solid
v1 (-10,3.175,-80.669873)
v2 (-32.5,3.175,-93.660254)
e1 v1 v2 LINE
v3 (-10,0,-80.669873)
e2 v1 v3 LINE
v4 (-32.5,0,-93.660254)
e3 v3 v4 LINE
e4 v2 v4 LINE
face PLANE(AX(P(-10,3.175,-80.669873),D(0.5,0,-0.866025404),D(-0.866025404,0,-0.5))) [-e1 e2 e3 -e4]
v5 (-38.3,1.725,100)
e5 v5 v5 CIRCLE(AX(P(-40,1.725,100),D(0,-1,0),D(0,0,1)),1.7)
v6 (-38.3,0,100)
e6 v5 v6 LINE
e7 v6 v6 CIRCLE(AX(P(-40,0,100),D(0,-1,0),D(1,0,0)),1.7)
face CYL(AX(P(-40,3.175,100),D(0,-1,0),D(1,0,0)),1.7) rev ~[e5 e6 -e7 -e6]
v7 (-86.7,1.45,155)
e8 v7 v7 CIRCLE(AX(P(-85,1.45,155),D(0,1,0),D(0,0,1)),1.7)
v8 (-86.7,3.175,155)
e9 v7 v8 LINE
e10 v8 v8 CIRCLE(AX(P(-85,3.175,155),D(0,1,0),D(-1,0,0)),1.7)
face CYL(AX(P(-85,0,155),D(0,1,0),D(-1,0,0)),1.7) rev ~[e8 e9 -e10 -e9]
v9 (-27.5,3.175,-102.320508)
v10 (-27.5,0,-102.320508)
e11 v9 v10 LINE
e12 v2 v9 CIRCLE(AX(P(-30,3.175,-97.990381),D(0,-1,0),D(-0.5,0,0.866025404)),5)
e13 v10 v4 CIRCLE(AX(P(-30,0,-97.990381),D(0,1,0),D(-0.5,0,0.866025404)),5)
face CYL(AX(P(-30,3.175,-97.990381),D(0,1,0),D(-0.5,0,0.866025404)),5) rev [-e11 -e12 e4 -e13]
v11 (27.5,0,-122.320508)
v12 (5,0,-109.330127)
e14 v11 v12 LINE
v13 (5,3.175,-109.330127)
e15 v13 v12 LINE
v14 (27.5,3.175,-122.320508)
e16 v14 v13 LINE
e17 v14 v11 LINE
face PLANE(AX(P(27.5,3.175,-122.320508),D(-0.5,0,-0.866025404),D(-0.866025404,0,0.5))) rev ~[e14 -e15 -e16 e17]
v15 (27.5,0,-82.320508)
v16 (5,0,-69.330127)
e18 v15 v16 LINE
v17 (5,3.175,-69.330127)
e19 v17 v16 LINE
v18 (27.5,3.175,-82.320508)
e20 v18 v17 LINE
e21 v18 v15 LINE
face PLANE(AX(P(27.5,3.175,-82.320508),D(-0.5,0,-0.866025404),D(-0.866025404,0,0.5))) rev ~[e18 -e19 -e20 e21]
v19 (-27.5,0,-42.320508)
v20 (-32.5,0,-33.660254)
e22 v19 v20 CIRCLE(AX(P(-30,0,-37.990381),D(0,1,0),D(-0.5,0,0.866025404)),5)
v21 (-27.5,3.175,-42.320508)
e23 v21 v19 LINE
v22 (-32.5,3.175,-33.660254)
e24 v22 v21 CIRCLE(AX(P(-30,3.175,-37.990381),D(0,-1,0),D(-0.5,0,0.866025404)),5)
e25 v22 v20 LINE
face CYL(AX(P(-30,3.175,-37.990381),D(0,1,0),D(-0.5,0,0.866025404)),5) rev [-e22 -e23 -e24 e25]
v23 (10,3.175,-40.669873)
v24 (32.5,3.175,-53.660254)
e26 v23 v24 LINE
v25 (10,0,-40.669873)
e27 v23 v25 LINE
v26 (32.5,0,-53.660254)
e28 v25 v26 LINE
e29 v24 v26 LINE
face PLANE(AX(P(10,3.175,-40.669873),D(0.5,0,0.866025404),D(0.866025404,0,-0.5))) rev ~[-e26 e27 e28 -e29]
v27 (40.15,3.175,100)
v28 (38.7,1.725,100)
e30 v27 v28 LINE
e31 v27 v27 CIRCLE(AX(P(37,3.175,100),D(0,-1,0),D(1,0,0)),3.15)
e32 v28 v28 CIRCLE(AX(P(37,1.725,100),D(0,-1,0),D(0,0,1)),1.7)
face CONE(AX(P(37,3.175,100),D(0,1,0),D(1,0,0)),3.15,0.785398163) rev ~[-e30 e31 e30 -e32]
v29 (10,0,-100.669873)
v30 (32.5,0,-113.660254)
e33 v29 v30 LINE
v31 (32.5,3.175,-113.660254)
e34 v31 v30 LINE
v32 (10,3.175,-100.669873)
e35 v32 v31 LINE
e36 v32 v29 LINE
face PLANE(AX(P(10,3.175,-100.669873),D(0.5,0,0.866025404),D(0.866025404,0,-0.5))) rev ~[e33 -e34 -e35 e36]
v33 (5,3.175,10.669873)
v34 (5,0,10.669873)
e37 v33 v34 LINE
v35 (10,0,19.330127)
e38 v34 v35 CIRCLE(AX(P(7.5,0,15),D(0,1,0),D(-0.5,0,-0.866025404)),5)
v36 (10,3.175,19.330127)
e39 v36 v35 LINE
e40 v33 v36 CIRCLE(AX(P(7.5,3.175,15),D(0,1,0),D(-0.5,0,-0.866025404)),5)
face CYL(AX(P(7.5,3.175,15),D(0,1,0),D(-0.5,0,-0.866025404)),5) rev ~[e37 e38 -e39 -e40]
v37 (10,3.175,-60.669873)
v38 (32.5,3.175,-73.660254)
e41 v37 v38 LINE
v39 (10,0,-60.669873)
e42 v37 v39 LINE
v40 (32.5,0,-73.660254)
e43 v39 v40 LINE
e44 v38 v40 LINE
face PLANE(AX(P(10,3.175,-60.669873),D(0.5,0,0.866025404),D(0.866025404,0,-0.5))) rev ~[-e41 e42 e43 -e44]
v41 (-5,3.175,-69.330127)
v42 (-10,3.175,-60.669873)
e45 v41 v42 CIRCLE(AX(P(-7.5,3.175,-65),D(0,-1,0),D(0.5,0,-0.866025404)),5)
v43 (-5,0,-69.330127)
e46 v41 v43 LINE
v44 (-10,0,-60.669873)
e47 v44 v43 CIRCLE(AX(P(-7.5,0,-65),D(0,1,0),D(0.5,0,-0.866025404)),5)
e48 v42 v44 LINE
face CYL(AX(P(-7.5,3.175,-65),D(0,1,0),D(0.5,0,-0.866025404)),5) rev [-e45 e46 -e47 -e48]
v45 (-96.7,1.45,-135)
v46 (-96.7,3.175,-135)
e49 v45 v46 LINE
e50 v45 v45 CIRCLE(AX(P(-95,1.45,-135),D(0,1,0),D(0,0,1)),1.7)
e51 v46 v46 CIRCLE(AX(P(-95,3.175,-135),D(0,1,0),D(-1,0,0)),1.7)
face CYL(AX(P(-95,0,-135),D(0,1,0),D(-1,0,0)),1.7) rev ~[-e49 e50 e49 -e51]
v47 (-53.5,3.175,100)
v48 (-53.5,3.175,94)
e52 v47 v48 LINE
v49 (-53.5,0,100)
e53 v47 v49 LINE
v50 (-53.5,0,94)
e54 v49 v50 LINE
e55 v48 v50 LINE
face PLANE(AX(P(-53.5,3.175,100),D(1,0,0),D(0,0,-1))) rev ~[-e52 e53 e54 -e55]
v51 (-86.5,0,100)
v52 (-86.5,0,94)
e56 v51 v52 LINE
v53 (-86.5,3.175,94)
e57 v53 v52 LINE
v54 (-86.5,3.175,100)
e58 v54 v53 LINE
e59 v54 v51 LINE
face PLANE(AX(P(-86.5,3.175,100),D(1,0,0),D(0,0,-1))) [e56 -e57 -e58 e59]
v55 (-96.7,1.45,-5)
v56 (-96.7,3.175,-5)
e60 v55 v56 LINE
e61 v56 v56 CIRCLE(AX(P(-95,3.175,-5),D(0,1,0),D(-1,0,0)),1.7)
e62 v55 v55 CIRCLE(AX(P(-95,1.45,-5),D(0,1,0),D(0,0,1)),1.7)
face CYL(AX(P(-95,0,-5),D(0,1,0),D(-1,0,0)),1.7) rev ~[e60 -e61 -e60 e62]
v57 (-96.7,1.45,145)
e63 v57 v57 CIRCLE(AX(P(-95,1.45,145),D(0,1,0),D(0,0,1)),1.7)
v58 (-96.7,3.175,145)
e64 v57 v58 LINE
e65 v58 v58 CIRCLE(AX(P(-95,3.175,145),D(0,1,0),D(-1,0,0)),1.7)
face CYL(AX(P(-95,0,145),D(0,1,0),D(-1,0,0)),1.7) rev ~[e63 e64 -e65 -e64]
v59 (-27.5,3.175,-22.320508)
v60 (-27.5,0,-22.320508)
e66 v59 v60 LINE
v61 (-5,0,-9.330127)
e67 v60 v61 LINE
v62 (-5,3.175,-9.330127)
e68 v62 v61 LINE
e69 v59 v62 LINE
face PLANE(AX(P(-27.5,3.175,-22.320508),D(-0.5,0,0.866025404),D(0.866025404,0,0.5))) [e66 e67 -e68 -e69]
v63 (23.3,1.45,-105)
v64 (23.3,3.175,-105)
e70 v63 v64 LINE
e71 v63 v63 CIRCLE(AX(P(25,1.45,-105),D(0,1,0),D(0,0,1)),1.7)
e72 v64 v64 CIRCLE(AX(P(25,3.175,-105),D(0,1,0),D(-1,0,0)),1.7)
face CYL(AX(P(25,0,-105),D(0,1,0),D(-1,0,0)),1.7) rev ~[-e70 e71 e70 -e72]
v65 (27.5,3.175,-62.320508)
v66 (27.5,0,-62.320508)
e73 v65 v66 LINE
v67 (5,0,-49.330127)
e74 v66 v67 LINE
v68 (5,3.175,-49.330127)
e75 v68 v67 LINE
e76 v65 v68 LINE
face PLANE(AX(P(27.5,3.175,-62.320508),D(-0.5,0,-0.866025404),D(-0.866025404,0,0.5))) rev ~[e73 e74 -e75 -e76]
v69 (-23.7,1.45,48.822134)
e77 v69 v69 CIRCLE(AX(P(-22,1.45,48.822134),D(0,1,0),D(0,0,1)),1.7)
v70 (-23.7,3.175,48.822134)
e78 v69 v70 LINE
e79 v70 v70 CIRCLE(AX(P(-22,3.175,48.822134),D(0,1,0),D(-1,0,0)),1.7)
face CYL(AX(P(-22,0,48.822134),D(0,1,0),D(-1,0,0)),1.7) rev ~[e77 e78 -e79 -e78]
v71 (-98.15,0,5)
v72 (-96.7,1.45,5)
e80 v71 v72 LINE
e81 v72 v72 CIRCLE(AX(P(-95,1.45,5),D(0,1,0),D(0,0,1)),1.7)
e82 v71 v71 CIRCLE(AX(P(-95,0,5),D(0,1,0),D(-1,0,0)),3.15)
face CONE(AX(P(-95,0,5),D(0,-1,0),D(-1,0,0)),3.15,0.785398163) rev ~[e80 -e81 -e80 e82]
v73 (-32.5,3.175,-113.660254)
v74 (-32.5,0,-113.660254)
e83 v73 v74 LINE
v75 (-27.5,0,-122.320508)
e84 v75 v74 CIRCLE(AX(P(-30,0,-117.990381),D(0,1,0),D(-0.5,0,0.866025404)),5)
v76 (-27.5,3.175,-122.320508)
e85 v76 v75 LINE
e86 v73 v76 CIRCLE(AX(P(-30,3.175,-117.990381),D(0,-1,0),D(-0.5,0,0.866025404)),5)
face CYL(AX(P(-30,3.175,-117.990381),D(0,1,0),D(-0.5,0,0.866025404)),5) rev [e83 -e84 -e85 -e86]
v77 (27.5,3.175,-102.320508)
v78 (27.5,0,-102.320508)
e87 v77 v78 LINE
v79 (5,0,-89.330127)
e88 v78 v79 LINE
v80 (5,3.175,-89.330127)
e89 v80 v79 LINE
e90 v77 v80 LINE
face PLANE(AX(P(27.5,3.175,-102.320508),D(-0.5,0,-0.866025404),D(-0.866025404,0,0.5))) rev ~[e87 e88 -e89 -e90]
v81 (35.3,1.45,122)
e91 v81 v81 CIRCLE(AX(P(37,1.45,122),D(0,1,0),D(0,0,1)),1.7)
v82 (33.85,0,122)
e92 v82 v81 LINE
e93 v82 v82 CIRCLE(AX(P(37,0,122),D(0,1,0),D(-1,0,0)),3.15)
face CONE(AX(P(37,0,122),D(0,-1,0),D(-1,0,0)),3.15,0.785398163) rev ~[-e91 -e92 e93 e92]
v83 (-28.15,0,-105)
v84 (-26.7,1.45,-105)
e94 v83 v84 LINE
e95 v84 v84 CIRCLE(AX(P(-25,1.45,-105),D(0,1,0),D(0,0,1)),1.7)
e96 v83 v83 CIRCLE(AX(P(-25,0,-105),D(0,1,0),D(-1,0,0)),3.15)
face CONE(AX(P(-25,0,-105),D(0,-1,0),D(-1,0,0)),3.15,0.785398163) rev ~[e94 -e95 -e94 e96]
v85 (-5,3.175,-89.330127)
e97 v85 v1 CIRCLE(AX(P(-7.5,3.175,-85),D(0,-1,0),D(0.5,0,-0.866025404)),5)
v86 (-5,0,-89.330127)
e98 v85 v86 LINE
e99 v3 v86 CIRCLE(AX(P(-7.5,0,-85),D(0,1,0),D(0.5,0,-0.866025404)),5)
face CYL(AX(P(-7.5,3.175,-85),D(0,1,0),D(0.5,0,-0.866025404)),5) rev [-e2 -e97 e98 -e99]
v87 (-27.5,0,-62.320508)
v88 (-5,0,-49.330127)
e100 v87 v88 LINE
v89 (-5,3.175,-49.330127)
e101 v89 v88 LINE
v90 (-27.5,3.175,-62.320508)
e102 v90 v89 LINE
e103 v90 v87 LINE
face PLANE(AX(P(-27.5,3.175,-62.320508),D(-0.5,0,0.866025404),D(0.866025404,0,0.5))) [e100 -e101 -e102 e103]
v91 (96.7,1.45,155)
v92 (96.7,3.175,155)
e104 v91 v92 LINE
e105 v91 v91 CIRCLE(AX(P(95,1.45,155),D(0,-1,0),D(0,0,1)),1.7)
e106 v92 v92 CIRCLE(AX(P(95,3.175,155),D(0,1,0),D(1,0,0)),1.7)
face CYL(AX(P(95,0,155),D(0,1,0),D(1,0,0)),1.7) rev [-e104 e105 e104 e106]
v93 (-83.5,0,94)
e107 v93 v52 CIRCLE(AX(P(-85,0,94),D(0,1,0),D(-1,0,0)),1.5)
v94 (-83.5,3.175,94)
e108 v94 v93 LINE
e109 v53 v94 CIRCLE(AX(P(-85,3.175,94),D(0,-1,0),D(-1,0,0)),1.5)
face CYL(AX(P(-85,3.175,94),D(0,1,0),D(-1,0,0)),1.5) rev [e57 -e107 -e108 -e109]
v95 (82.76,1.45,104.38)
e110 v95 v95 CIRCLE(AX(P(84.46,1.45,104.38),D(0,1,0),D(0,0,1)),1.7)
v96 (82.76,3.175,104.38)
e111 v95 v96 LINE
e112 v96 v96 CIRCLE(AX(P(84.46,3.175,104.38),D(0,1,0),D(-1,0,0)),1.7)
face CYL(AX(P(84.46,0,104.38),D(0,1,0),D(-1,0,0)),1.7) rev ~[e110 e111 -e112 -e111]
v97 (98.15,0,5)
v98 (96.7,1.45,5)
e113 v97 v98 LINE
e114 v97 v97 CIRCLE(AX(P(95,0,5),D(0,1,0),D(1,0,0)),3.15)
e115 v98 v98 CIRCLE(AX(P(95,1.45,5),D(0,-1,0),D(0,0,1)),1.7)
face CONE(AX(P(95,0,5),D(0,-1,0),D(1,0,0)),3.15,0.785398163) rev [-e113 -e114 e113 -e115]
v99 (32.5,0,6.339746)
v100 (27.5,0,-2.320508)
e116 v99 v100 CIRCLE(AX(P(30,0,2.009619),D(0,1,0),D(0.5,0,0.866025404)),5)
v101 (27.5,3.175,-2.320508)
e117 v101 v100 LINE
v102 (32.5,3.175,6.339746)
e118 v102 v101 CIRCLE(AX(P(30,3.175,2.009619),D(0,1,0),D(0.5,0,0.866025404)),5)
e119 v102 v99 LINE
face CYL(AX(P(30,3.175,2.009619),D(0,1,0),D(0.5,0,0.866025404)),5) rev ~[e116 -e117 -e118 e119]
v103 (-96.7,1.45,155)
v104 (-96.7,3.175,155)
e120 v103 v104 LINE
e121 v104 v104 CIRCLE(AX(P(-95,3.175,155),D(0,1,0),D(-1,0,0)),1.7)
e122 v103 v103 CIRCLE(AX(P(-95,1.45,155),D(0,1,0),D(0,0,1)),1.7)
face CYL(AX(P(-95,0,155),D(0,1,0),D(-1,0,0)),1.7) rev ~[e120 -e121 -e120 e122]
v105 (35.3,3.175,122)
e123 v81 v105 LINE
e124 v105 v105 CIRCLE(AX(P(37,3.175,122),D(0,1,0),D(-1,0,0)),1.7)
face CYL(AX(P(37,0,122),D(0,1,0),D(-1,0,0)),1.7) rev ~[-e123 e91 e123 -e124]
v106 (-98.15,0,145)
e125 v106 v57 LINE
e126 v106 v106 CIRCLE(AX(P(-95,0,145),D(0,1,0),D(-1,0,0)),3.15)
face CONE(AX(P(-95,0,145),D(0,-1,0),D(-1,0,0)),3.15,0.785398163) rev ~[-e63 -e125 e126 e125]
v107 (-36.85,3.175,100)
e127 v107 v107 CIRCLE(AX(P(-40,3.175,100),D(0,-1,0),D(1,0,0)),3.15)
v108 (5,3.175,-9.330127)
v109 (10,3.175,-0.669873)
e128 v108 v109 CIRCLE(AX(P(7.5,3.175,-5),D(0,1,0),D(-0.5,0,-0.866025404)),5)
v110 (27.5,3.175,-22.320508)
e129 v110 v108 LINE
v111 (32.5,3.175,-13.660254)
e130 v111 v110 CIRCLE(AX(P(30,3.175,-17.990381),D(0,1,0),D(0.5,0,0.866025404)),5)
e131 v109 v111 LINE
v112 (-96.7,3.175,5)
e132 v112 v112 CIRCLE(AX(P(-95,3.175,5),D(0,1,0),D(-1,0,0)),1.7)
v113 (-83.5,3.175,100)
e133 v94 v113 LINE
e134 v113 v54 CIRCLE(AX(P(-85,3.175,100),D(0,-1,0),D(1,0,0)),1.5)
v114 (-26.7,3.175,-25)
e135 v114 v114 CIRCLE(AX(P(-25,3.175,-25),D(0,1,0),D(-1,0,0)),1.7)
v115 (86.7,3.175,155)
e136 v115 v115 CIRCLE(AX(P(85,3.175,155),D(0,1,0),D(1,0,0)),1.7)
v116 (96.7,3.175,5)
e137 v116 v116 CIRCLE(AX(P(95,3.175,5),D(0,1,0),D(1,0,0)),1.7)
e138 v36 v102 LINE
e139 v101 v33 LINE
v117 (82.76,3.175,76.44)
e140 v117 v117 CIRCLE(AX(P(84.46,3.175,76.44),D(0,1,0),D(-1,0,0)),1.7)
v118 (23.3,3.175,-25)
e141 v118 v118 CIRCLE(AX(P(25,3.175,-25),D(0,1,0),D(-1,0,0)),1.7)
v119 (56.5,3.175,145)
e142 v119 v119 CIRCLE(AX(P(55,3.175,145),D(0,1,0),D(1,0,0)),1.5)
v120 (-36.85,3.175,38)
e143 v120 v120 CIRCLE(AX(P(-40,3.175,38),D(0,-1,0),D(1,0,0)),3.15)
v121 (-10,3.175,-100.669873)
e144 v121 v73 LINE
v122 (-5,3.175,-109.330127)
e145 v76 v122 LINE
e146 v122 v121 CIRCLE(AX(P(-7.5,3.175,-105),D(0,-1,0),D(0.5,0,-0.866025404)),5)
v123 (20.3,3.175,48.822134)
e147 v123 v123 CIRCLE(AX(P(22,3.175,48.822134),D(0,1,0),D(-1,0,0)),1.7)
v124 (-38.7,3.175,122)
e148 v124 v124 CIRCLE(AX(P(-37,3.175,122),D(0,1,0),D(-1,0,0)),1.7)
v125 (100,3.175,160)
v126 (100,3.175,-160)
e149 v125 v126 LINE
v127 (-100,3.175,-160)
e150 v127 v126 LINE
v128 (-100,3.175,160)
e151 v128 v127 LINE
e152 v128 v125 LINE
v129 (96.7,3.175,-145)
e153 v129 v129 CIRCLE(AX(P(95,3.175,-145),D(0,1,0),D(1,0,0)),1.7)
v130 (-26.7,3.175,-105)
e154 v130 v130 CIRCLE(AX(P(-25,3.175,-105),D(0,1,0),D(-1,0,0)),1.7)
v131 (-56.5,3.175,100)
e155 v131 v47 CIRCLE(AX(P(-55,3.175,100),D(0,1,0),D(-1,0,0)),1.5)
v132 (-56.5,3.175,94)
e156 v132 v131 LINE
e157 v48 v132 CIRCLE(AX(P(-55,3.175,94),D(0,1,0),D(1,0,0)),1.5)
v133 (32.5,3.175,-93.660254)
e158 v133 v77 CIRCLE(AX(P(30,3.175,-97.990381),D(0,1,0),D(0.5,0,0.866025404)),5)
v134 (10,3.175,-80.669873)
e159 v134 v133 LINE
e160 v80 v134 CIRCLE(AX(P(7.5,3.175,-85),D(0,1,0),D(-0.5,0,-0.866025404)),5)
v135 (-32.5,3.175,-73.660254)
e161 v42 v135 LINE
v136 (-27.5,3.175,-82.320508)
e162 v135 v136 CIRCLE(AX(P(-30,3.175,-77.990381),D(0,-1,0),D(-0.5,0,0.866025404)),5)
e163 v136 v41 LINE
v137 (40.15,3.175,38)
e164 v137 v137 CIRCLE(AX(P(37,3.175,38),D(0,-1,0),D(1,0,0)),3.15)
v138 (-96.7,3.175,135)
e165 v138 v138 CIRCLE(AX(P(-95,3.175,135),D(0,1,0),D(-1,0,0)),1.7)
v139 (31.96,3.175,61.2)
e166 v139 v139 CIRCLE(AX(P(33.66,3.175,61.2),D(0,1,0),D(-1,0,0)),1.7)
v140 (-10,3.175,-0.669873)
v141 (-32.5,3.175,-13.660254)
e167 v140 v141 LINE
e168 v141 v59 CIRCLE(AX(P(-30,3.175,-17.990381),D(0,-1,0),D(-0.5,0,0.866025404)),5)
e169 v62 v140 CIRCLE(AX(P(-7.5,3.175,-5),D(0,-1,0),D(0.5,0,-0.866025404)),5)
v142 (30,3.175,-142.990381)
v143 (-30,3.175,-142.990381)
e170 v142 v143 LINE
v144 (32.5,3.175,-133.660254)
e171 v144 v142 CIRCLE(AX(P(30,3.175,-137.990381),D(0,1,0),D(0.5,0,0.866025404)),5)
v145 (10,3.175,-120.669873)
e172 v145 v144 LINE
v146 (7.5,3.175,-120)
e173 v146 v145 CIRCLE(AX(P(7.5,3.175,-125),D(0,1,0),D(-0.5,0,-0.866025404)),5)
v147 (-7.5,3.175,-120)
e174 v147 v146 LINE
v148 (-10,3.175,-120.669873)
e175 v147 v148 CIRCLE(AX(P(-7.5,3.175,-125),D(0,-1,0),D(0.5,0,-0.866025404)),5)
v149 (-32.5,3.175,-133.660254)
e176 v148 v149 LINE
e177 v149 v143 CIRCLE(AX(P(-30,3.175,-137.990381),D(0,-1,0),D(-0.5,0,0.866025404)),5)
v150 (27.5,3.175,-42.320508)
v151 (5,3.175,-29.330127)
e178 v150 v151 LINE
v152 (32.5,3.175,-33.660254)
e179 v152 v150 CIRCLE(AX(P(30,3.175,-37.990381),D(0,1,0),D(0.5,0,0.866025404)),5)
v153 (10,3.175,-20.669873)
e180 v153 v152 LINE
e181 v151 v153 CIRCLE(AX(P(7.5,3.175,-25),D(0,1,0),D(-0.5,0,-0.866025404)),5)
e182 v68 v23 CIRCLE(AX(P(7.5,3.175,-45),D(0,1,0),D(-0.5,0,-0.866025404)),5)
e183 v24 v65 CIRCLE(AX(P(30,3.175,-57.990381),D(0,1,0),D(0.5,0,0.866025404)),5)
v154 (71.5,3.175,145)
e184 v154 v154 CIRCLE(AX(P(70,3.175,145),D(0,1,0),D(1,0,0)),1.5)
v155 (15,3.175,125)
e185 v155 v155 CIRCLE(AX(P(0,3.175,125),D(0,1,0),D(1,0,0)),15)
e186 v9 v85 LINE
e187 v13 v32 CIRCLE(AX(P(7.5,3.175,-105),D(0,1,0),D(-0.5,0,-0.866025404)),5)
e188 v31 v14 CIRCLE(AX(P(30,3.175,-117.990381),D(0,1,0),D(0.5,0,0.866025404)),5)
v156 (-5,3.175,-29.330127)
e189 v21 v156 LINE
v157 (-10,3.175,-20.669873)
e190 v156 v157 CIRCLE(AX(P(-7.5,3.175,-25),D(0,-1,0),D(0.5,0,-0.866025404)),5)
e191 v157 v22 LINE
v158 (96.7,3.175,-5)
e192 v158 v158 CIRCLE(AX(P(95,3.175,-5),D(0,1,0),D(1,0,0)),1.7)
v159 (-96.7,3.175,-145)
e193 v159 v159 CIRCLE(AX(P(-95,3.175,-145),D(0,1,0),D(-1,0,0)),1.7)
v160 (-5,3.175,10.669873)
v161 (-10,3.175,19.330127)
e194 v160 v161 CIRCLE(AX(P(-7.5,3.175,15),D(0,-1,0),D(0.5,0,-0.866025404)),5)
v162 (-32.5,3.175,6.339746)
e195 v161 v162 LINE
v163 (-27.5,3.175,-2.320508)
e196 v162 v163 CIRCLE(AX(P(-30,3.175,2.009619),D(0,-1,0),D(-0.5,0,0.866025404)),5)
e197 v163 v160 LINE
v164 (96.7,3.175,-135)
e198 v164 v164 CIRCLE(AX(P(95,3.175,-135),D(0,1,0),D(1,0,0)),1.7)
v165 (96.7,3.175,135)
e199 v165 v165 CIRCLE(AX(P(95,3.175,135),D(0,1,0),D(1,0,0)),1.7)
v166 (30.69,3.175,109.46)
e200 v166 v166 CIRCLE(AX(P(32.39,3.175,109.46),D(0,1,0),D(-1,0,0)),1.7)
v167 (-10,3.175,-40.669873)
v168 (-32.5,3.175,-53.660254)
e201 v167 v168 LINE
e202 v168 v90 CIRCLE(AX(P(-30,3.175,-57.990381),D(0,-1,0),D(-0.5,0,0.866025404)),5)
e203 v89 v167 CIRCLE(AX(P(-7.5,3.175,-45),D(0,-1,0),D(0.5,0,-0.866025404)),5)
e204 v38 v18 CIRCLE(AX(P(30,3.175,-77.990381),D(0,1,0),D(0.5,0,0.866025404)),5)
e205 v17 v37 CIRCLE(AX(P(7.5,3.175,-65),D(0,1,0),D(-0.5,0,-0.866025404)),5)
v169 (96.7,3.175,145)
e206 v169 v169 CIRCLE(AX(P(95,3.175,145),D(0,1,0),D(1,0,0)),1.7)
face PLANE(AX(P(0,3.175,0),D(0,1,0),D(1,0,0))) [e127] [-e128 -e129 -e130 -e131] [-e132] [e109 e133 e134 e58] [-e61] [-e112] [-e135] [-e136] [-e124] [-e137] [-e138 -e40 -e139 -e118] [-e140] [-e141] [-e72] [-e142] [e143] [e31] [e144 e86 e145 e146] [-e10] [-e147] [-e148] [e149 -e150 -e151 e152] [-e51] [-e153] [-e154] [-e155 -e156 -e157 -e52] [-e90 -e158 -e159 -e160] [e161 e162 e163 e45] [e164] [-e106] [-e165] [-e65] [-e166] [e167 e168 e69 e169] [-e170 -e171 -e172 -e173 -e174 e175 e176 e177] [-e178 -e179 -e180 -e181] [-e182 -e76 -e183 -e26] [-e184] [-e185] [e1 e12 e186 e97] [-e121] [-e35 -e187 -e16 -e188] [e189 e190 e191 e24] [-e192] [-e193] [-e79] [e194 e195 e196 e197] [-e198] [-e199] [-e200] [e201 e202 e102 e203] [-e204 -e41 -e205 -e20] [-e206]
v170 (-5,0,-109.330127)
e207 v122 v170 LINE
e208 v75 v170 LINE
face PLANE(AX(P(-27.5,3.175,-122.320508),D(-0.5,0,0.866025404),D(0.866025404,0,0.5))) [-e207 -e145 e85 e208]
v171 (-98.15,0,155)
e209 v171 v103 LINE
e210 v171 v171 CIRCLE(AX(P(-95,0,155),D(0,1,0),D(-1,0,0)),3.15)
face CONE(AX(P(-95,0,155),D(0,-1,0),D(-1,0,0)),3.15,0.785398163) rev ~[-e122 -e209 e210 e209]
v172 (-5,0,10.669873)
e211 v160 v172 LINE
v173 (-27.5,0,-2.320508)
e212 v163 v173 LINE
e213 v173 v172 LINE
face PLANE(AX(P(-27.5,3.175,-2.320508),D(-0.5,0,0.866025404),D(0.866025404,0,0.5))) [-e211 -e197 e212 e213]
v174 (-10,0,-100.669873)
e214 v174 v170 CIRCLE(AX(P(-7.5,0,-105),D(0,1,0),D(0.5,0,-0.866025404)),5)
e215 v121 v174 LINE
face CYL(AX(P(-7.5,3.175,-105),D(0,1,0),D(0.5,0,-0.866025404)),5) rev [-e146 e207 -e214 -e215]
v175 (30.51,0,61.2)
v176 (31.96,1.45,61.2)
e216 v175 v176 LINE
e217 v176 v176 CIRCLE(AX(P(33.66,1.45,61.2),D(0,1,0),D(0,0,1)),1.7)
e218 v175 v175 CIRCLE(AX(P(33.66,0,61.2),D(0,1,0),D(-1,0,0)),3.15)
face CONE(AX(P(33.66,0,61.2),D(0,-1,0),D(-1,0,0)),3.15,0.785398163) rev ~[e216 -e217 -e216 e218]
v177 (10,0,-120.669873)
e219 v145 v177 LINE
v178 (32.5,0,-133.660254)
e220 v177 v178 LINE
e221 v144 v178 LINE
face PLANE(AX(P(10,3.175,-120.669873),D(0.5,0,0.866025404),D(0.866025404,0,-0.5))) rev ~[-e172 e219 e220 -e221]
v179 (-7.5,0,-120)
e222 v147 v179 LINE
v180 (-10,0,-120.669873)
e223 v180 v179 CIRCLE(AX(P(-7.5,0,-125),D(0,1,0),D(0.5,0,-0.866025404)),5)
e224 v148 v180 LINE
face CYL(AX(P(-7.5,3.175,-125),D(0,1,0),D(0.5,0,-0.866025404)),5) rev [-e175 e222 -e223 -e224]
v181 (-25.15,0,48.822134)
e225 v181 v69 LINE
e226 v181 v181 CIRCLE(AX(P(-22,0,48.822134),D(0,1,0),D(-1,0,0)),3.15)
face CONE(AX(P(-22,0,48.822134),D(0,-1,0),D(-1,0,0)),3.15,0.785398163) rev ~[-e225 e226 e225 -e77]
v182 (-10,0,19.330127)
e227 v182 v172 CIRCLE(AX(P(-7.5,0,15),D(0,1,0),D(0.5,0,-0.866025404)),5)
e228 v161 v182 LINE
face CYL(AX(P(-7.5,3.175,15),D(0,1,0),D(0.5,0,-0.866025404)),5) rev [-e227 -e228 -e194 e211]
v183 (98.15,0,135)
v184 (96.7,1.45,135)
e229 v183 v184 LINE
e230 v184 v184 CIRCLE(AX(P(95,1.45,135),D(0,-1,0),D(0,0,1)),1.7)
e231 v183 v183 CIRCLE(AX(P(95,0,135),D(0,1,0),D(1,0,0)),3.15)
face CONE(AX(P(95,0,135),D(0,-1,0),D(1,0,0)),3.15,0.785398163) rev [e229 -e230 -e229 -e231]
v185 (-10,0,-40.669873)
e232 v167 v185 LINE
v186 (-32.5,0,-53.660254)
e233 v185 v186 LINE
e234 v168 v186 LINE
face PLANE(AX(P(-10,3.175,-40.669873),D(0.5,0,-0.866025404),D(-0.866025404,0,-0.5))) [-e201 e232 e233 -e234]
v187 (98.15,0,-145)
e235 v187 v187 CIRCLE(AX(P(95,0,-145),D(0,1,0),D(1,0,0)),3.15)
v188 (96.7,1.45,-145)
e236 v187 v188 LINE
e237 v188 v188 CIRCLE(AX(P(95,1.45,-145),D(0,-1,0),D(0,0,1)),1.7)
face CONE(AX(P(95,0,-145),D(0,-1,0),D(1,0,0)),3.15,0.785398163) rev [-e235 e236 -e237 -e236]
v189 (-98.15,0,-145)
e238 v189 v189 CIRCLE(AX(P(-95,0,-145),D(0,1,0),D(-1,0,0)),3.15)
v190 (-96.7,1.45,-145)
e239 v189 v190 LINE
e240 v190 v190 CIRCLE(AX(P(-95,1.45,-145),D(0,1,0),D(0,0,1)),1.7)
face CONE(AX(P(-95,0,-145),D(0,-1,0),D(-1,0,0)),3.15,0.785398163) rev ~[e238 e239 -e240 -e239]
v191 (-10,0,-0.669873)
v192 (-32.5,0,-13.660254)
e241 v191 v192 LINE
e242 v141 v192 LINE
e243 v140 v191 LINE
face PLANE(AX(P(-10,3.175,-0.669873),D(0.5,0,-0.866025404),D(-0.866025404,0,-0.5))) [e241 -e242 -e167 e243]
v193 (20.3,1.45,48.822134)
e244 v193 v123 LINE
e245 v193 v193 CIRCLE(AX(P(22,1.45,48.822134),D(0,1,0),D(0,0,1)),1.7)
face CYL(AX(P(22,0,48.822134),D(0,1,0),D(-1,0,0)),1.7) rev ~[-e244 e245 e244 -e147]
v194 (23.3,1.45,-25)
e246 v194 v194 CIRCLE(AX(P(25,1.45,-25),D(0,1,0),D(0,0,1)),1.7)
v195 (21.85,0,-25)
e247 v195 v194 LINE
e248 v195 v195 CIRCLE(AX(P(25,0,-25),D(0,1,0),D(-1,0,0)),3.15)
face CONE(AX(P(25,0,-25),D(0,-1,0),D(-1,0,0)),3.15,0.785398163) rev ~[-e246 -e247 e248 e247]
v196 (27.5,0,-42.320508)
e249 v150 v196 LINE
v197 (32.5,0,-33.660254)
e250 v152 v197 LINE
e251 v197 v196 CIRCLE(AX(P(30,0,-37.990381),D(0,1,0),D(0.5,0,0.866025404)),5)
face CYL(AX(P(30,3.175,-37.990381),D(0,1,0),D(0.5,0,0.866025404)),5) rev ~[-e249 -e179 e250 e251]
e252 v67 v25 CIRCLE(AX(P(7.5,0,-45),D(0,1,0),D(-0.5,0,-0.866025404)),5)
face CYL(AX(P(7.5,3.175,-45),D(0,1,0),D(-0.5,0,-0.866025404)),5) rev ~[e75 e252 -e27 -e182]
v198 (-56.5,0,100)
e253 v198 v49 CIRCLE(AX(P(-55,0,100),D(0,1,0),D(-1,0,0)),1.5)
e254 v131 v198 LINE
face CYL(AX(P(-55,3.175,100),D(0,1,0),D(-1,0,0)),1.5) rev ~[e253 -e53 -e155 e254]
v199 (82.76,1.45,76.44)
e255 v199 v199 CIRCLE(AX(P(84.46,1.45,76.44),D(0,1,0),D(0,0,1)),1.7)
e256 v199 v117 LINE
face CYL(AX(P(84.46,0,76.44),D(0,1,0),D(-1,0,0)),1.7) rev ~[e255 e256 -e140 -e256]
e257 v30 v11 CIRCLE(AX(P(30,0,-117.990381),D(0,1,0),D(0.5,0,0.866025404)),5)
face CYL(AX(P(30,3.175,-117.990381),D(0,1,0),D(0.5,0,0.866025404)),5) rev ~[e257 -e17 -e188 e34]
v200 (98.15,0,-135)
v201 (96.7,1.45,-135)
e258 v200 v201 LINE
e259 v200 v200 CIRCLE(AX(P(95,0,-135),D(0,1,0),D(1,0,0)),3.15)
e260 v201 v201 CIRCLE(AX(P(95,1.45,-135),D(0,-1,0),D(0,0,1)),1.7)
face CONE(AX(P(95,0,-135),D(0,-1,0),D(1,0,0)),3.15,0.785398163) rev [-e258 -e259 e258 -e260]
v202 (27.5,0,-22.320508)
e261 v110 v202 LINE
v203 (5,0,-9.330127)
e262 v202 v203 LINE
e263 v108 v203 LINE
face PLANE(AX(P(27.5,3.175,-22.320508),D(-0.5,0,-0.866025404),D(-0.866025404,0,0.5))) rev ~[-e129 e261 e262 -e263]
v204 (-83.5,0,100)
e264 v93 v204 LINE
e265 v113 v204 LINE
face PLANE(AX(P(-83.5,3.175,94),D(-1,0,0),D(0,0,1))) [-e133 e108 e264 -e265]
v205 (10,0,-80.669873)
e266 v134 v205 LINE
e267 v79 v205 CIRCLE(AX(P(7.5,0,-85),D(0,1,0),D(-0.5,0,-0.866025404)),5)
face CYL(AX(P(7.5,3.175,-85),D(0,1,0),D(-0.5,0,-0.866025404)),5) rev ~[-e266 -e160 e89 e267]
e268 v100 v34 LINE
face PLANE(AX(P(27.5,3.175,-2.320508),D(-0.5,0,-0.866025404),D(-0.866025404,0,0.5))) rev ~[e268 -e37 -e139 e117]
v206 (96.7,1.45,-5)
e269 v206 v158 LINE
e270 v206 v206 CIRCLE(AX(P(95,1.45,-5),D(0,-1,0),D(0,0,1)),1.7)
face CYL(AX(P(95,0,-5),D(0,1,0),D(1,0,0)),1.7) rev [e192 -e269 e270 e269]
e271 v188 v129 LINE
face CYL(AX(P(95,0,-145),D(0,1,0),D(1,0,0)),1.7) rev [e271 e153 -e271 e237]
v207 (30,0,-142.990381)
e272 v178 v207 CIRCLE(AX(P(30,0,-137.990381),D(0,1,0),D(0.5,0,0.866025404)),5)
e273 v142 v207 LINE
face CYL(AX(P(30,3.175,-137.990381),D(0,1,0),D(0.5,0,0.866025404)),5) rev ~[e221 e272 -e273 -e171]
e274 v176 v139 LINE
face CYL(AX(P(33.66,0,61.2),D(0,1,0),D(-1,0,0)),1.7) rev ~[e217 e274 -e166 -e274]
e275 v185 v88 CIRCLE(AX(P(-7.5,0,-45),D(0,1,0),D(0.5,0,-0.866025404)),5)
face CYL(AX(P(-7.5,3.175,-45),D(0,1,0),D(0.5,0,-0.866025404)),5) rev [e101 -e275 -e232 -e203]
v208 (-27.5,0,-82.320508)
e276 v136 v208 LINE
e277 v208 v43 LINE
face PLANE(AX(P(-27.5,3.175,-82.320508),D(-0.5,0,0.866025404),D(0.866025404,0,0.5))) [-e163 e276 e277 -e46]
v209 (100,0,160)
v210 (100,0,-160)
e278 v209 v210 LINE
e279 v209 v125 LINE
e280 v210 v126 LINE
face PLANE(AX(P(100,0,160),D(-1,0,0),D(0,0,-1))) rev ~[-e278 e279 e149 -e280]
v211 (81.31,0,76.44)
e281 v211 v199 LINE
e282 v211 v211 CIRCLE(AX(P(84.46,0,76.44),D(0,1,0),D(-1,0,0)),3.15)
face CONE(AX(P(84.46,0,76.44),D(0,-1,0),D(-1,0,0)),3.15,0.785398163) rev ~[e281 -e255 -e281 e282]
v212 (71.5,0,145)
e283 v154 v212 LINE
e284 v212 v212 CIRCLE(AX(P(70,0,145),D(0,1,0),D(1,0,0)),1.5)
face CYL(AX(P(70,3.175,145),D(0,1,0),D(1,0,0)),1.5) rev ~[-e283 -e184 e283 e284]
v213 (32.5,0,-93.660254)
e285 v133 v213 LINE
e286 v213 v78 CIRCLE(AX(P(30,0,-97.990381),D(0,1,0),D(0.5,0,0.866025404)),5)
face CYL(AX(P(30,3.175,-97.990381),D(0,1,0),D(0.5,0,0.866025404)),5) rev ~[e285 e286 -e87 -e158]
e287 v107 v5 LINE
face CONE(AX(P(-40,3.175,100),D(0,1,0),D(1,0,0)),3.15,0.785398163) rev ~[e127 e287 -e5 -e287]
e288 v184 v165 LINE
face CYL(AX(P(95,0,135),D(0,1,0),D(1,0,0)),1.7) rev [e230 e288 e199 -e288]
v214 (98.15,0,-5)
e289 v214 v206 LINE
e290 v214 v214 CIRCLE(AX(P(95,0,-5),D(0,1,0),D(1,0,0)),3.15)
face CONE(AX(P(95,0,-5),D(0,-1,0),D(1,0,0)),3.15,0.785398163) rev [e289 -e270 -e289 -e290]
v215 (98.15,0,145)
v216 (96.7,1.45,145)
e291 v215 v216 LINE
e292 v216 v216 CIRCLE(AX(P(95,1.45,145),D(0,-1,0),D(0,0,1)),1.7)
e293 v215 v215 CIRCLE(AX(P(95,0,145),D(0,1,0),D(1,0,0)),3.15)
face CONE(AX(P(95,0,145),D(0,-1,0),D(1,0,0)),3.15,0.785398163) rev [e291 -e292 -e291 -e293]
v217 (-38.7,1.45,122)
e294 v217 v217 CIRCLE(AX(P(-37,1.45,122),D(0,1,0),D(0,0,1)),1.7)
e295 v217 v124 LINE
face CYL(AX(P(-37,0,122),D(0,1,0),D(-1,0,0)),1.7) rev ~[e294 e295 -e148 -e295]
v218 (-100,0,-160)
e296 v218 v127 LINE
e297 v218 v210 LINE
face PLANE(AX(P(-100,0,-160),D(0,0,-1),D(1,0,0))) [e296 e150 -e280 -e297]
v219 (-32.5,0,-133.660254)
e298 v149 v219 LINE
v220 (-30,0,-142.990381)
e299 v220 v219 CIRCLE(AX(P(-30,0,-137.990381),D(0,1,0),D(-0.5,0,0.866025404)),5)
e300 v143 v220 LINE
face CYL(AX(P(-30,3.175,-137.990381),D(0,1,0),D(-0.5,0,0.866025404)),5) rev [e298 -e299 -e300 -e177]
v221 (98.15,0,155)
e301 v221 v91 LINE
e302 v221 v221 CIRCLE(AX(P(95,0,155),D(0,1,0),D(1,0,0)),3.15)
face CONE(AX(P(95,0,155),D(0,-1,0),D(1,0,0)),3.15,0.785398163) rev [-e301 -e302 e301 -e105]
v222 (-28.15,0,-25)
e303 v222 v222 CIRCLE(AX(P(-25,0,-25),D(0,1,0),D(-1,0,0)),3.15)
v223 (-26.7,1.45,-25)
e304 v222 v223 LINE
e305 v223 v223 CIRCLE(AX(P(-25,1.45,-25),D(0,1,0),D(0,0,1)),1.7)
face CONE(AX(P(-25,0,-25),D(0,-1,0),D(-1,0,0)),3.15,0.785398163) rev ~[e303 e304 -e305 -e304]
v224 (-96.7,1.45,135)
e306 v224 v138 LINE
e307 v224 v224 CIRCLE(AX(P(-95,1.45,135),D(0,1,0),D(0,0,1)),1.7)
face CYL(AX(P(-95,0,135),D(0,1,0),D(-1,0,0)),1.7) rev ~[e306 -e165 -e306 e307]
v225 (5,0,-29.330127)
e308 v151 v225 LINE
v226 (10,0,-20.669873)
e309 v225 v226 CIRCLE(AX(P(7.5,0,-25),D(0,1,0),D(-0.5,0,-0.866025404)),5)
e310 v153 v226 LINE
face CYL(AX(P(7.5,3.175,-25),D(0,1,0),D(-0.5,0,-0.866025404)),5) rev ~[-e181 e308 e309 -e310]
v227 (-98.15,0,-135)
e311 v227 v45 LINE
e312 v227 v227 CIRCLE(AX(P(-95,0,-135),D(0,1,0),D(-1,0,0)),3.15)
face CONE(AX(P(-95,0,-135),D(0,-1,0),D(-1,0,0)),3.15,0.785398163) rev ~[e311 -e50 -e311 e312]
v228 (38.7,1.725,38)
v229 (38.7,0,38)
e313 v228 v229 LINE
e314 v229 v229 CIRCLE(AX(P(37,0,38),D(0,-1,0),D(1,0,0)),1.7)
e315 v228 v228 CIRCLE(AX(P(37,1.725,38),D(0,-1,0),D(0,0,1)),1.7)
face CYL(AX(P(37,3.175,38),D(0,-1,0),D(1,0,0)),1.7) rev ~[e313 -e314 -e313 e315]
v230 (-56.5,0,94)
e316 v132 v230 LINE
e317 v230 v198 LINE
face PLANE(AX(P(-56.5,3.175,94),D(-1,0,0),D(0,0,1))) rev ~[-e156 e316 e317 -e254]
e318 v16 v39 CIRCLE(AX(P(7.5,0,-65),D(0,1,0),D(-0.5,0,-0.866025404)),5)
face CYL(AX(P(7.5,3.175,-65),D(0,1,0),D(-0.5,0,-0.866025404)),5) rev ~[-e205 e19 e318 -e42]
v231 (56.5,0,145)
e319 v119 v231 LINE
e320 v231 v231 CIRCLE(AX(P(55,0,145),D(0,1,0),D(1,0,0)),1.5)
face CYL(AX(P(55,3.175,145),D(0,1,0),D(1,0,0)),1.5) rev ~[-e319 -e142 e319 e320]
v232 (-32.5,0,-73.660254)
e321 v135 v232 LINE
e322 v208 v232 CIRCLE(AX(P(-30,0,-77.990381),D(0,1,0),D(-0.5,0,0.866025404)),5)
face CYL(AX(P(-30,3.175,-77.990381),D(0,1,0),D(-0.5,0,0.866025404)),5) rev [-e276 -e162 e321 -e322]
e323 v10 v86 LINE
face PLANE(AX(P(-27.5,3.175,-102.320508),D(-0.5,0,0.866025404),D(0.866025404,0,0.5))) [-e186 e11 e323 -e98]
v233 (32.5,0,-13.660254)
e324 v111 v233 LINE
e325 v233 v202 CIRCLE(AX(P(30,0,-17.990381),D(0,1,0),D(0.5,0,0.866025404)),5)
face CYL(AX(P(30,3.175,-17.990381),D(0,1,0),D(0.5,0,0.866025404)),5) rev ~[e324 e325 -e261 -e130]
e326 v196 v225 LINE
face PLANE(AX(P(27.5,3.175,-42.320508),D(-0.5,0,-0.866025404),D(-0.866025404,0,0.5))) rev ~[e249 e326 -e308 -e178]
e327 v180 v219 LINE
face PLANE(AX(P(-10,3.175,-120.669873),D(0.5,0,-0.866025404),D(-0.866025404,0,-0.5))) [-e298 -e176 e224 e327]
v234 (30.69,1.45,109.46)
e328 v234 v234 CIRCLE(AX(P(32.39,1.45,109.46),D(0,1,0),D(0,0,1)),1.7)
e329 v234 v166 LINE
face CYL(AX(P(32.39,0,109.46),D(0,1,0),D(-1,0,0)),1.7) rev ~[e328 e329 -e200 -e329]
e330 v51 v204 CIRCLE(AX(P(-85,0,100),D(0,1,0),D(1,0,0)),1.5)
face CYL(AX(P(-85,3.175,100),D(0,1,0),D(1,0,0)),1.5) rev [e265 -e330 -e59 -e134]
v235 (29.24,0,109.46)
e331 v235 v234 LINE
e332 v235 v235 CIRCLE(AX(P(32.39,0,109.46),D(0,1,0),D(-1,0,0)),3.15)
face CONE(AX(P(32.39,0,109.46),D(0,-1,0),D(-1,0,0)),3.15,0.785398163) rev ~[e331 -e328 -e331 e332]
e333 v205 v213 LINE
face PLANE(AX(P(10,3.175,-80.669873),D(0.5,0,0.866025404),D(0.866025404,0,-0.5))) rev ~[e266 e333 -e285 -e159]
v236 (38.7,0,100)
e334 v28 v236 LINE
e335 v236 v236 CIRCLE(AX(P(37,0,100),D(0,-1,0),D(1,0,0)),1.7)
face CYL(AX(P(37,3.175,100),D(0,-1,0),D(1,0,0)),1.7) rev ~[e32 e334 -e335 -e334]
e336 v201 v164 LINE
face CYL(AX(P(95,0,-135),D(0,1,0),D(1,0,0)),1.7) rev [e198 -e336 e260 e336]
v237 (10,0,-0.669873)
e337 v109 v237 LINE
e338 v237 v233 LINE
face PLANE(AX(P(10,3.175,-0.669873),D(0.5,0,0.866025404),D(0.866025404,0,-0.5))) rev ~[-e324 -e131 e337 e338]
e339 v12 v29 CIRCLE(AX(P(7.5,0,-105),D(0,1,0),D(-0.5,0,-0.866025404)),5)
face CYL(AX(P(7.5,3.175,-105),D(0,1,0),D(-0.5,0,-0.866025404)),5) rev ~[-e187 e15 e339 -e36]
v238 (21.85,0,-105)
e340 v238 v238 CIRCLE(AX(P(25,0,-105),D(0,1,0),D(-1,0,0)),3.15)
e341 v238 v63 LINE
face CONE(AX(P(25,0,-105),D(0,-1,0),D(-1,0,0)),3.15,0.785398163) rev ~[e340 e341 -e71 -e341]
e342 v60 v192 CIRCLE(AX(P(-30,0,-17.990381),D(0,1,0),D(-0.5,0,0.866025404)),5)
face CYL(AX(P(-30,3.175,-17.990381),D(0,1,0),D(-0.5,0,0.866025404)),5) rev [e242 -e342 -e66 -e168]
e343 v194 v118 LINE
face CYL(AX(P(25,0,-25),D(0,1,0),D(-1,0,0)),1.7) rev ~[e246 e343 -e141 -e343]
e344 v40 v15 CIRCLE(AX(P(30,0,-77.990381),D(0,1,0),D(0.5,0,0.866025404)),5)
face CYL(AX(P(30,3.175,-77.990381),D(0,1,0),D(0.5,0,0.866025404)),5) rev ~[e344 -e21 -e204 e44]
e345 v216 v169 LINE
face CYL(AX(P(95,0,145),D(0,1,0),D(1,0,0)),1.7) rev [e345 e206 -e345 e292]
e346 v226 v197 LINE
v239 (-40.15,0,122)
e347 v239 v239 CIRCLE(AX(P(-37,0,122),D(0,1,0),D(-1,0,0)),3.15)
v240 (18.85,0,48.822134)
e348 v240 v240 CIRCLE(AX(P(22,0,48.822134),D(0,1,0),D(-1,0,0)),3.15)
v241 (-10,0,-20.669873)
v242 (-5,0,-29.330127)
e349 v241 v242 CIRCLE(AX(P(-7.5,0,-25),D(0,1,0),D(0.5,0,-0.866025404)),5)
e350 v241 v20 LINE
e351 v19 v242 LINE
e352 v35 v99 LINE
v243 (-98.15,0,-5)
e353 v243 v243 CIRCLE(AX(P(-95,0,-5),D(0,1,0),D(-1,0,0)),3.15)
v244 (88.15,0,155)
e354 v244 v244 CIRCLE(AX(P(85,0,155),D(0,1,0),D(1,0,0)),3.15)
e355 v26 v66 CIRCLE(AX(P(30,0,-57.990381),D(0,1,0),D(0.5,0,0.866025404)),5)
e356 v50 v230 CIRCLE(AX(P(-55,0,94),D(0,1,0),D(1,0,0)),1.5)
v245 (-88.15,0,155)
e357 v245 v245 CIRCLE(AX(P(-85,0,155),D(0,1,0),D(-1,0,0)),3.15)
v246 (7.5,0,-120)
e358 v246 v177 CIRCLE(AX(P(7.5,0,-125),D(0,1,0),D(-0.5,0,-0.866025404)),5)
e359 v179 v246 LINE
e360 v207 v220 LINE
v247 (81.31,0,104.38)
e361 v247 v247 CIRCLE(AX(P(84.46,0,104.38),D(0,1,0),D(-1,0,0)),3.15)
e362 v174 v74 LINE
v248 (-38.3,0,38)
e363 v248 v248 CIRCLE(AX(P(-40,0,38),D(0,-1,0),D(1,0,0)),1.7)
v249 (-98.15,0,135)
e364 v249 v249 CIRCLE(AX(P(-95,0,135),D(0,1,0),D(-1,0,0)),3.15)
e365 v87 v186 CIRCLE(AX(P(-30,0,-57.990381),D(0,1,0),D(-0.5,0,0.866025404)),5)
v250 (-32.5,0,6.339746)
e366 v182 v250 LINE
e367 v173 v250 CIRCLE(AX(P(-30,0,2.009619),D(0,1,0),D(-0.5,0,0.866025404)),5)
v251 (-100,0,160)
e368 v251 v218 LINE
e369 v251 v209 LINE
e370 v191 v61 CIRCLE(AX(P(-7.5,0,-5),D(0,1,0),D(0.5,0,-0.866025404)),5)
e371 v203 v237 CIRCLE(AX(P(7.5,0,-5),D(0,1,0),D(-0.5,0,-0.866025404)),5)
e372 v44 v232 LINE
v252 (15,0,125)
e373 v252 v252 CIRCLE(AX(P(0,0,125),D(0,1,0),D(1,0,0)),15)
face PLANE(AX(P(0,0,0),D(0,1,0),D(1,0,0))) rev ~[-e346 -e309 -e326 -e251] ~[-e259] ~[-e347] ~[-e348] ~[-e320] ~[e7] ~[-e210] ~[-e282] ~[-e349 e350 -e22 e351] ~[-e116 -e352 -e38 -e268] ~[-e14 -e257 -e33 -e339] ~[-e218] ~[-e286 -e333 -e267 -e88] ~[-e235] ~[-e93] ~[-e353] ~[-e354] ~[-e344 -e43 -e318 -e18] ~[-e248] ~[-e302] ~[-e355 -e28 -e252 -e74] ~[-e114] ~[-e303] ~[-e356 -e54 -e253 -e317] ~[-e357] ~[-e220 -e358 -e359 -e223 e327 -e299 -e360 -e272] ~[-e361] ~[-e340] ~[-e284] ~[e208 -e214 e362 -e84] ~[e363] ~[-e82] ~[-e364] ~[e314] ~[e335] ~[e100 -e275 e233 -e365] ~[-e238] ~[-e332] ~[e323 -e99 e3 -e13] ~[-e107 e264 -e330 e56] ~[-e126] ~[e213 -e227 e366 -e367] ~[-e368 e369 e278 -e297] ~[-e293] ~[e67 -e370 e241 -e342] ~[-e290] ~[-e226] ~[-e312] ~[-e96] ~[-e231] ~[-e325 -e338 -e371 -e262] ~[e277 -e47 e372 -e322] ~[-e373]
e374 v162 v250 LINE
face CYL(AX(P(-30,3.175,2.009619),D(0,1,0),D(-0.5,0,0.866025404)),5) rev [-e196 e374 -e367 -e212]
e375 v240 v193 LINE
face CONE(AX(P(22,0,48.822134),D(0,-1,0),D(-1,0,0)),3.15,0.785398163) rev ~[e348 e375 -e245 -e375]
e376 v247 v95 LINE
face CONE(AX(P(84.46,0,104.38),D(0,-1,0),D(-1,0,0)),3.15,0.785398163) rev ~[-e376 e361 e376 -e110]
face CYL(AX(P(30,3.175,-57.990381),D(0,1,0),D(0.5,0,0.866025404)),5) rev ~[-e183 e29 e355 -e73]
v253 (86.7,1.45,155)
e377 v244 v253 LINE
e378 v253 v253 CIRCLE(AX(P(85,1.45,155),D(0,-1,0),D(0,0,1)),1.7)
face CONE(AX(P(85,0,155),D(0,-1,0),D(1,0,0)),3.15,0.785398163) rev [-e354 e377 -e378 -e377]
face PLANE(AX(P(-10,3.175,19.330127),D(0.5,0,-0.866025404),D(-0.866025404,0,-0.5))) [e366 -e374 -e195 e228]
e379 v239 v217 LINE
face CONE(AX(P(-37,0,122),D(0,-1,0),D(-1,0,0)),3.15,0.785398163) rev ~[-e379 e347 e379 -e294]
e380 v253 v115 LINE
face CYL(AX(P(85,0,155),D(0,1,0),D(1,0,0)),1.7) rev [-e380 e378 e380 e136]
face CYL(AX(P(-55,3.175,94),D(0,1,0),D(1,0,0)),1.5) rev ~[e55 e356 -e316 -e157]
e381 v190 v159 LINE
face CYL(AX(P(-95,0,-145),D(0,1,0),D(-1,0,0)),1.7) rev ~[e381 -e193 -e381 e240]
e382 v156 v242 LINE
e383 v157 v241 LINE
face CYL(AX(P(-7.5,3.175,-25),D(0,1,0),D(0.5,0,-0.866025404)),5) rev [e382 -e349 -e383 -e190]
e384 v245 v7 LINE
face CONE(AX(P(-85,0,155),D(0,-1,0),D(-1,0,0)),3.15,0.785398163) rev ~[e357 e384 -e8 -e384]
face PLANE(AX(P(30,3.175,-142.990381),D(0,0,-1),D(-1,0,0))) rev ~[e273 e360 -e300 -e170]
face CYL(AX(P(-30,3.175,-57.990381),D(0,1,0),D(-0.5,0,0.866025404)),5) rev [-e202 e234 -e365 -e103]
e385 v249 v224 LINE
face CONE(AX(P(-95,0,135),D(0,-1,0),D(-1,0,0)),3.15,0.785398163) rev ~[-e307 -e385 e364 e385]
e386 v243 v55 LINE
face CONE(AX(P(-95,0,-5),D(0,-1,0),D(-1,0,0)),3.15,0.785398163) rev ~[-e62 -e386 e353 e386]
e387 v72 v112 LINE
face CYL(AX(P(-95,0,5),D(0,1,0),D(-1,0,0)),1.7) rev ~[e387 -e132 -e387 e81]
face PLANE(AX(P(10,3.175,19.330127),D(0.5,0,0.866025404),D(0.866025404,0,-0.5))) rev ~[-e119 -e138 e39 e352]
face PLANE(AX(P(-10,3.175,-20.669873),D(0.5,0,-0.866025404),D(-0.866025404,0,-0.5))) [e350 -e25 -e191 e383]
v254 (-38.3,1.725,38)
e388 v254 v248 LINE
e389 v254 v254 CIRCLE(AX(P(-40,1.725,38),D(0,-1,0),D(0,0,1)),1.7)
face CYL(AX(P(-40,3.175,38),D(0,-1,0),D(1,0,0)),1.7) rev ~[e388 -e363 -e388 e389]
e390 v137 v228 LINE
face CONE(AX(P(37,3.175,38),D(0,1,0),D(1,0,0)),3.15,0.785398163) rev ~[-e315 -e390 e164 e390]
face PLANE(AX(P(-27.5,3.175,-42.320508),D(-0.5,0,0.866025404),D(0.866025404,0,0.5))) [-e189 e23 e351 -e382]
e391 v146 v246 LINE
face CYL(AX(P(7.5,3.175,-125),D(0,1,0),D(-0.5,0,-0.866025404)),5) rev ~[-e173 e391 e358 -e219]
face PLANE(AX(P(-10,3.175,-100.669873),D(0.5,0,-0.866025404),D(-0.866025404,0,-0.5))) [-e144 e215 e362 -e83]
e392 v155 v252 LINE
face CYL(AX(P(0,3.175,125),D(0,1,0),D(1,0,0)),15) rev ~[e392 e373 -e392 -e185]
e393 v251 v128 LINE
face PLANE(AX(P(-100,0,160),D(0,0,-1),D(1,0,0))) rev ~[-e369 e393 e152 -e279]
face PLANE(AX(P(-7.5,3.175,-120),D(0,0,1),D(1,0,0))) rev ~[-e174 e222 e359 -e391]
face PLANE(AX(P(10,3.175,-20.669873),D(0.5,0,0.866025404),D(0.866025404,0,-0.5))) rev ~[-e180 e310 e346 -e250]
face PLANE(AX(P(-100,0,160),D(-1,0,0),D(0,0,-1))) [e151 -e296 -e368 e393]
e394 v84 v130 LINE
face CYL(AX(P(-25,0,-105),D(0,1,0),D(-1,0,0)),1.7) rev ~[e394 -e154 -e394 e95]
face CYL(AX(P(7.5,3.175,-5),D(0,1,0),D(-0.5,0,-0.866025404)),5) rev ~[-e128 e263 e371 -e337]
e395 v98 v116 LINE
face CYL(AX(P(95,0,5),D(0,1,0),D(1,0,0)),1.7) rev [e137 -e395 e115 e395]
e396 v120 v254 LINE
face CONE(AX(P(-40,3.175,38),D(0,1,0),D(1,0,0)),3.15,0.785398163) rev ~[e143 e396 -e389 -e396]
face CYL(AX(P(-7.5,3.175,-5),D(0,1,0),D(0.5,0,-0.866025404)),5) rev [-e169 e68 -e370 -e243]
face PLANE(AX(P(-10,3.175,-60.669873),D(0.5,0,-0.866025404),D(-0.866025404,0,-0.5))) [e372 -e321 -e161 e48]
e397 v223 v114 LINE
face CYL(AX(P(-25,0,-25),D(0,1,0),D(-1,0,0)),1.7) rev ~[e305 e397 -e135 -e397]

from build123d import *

# Parameters (mm, degrees)
SKETCH1_W                                       = 200
SKETCH1_H                                       = 320
BOSS_EXTRUDE1_DEPTH                             = 3.175
CSK_FOR_M3_FLAT_HEAD_MACHINE_SCREW1_D           = 3.4
CSK_FOR_M3_FLAT_HEAD_MACHINE_SCREW1_CSINK_D     = 6.3
CSK_FOR_M3_FLAT_HEAD_MACHINE_SCREW1_CSINK_ANGLE = 90
CSK_FOR_M3_FLAT_HEAD_MACHINE_SCREW2_D           = 3.4
CSK_FOR_M3_FLAT_HEAD_MACHINE_SCREW2_CSINK_D     = 6.3
CSK_FOR_M3_FLAT_HEAD_MACHINE_SCREW2_CSINK_ANGLE = 90
CSK_FOR_M3_FLAT_HEAD_MACHINE_SCREW3_D           = 3.4
CSK_FOR_M3_FLAT_HEAD_MACHINE_SCREW3_CSINK_D     = 6.3
CSK_FOR_M3_FLAT_HEAD_MACHINE_SCREW3_CSINK_ANGLE = 90
CUT_EXTRUDE1_DEPTH                              = 4.175
LPATTERN1_COUNT                                 = 8
LPATTERN1_PITCH                                 = 20
SKETCH9_R                                       = 15
SKETCH9_R_2                                     = 1.5
CUT_EXTRUDE2_DEPTH                              = 4.175
CSK_FOR_M3_FLAT_HEAD_MACHINE_SCREW4_D           = 3.4
CSK_FOR_M3_FLAT_HEAD_MACHINE_SCREW4_CSINK_D     = 6.3
CSK_FOR_M3_FLAT_HEAD_MACHINE_SCREW4_CSINK_ANGLE = 90
CSK_FOR_M3_FLAT_HEAD_MACHINE_SCREW5_D           = 3.4
CSK_FOR_M3_FLAT_HEAD_MACHINE_SCREW5_CSINK_D     = 6.3
CSK_FOR_M3_FLAT_HEAD_MACHINE_SCREW5_CSINK_ANGLE = 90


with BuildPart() as part:
    # Sketch1 → Boss-Extrude1 (new body)
    with BuildSketch(Plane(origin=(0, 0, 0), x_dir=(1, 0, 0), z_dir=(0, 1, 0))):
        Rectangle(SKETCH1_W, SKETCH1_H)
    extrude(amount=BOSS_EXTRUDE1_DEPTH)

    # CSK for M3 Flat Head Machine Screw1 (through all)
    with Locations(Plane.XZ):
        with Locations((-95, 155), (-85, 155), (-95, 145), (-95, 135), (-95, -145), (-95, -135), (-95, 5), (-95, -5)):
            csk_for_m3_flat_head_machine_screw1 = CounterSinkHole(CSK_FOR_M3_FLAT_HEAD_MACHINE_SCREW1_D / 2, CSK_FOR_M3_FLAT_HEAD_MACHINE_SCREW1_CSINK_D / 2, counter_sink_angle=CSK_FOR_M3_FLAT_HEAD_MACHINE_SCREW1_CSINK_ANGLE)

    # Mirror1: CSK for M3 Flat Head Machine Screw1 across plane
    add(csk_for_m3_flat_head_machine_screw1.mirror(Plane(origin=(0, 0, 0), x_dir=(0, 0, 1), z_dir=(1, 0, 0))), mode=Mode.SUBTRACT)

    # CSK for M3 Flat Head Machine Screw2 (through all)
    with Locations(Plane.XZ):
        with Locations((-25, -105), (25, -105), (25, -25), (-25, -25)):
            CounterSinkHole(CSK_FOR_M3_FLAT_HEAD_MACHINE_SCREW2_D / 2, CSK_FOR_M3_FLAT_HEAD_MACHINE_SCREW2_CSINK_D / 2, counter_sink_angle=CSK_FOR_M3_FLAT_HEAD_MACHINE_SCREW2_CSINK_ANGLE)

    # CSK for M3 Flat Head Machine Screw3 (through all)
    with Locations(Plane(origin=(0, 3.175, 0), x_dir=(-1, 0, 0), z_dir=(0, 1, 0))):
        with Locations((40, 38), (-37, 100), (-37, 38), (40, 100)):
            CounterSinkHole(CSK_FOR_M3_FLAT_HEAD_MACHINE_SCREW3_D / 2, CSK_FOR_M3_FLAT_HEAD_MACHINE_SCREW3_CSINK_D / 2, counter_sink_angle=CSK_FOR_M3_FLAT_HEAD_MACHINE_SCREW3_CSINK_ANGLE)

    # Sketch8 → Cut-Extrude1 (cut, through all)
    with BuildSketch(Plane(origin=(0, 3.175, 0), x_dir=(1, 0, 0), z_dir=(0, 1, 0))):
        with BuildLine():
            Line((-10, -19.330127019), (-32.5, -6.339745962))
            ThreePointArc((-32.5, -6.339745962), (-34.330127019, 0.490381057), (-27.5, 2.320508076))
            Line((-27.5, 2.320508076), (-5, -10.669872981))
            ThreePointArc((-5, -10.669872981), (-3.169872981, -17.5), (-10, -19.330127019))
        make_face()
        with BuildLine():
            Line((10, -19.330127019), (32.5, -6.339745962))
            ThreePointArc((32.5, -6.339745962), (34.330127019, 0.490381057), (27.5, 2.320508076))
            Line((27.5, 2.320508076), (5, -10.669872981))
            ThreePointArc((5, -10.669872981), (3.169872981, -17.5), (10, -19.330127019))
        make_face()
    cut_extrude1 = extrude(amount=-CUT_EXTRUDE1_DEPTH, mode=Mode.SUBTRACT)

    # LPattern1: Cut-Extrude1 ×8
    with Locations(*[(0, 0, -i * LPATTERN1_PITCH) for i in range(1, LPATTERN1_COUNT)]):
        add(cut_extrude1, mode=Mode.SUBTRACT)

    # Sketch9 → Cut-Extrude2 (cut, through all)
    with BuildSketch(Plane(origin=(0, 3.175, 0), x_dir=(1, 0, 0), z_dir=(0, 1, 0))):
        with Locations((0, -125)):
            Circle(SKETCH9_R)
        with Locations((55, -145)):
            Circle(SKETCH9_R_2)
        with Locations((70, -145)):
            Circle(SKETCH9_R_2)
        with BuildLine():
            Line((-7.5, 120), (7.5, 120))
            ThreePointArc((7.5, 120), (8.794095226, 120.170370869), (10, 120.669872981))
            Line((10, 120.669872981), (32.5, 133.660254038))
            ThreePointArc((32.5, 133.660254038), (34.829629131, 139.284476282), (30, 142.990381057))
            Line((30, 142.990381057), (-30, 142.990381057))
            ThreePointArc((-30, 142.990381057), (-34.829629131, 139.284476282), (-32.5, 133.660254038))
            Line((-32.5, 133.660254038), (-10, 120.669872981))
            ThreePointArc((-10, 120.669872981), (-8.794095226, 120.170370869), (-7.5, 120))
        make_face()
        with BuildLine():
            Line((-83.5, -94), (-83.5, -100))
            ThreePointArc((-83.5, -100), (-85, -101.5), (-86.5, -100))
            Line((-86.5, -100), (-86.5, -94))
            ThreePointArc((-86.5, -94), (-85, -92.5), (-83.5, -94))
        make_face()
        with BuildLine():
            Line((-56.5, -94), (-56.5, -100))
            ThreePointArc((-56.5, -100), (-55, -101.5), (-53.5, -100))
            Line((-53.5, -100), (-53.5, -94))
            ThreePointArc((-53.5, -94), (-55, -92.5), (-56.5, -94))
        make_face()
    extrude(amount=-CUT_EXTRUDE2_DEPTH, mode=Mode.SUBTRACT)

    # CSK for M3 Flat Head Machine Screw4 (through all)
    with Locations(Plane.XZ):
        with Locations((84.46, 104.38), (32.39, 109.46), (33.66, 61.2), (84.46, 76.44)):
            CounterSinkHole(CSK_FOR_M3_FLAT_HEAD_MACHINE_SCREW4_D / 2, CSK_FOR_M3_FLAT_HEAD_MACHINE_SCREW4_CSINK_D / 2, counter_sink_angle=CSK_FOR_M3_FLAT_HEAD_MACHINE_SCREW4_CSINK_ANGLE)

    # CSK for M3 Flat Head Machine Screw5 (through all)
    with Locations(Plane.XZ):
        with Locations((-37, 122), (37, 122), (22, 48.822134494), (-22, 48.822134494)):
            CounterSinkHole(CSK_FOR_M3_FLAT_HEAD_MACHINE_SCREW5_D / 2, CSK_FOR_M3_FLAT_HEAD_MACHINE_SCREW5_CSINK_D / 2, counter_sink_angle=CSK_FOR_M3_FLAT_HEAD_MACHINE_SCREW5_CSINK_ANGLE)


solid = part.part
